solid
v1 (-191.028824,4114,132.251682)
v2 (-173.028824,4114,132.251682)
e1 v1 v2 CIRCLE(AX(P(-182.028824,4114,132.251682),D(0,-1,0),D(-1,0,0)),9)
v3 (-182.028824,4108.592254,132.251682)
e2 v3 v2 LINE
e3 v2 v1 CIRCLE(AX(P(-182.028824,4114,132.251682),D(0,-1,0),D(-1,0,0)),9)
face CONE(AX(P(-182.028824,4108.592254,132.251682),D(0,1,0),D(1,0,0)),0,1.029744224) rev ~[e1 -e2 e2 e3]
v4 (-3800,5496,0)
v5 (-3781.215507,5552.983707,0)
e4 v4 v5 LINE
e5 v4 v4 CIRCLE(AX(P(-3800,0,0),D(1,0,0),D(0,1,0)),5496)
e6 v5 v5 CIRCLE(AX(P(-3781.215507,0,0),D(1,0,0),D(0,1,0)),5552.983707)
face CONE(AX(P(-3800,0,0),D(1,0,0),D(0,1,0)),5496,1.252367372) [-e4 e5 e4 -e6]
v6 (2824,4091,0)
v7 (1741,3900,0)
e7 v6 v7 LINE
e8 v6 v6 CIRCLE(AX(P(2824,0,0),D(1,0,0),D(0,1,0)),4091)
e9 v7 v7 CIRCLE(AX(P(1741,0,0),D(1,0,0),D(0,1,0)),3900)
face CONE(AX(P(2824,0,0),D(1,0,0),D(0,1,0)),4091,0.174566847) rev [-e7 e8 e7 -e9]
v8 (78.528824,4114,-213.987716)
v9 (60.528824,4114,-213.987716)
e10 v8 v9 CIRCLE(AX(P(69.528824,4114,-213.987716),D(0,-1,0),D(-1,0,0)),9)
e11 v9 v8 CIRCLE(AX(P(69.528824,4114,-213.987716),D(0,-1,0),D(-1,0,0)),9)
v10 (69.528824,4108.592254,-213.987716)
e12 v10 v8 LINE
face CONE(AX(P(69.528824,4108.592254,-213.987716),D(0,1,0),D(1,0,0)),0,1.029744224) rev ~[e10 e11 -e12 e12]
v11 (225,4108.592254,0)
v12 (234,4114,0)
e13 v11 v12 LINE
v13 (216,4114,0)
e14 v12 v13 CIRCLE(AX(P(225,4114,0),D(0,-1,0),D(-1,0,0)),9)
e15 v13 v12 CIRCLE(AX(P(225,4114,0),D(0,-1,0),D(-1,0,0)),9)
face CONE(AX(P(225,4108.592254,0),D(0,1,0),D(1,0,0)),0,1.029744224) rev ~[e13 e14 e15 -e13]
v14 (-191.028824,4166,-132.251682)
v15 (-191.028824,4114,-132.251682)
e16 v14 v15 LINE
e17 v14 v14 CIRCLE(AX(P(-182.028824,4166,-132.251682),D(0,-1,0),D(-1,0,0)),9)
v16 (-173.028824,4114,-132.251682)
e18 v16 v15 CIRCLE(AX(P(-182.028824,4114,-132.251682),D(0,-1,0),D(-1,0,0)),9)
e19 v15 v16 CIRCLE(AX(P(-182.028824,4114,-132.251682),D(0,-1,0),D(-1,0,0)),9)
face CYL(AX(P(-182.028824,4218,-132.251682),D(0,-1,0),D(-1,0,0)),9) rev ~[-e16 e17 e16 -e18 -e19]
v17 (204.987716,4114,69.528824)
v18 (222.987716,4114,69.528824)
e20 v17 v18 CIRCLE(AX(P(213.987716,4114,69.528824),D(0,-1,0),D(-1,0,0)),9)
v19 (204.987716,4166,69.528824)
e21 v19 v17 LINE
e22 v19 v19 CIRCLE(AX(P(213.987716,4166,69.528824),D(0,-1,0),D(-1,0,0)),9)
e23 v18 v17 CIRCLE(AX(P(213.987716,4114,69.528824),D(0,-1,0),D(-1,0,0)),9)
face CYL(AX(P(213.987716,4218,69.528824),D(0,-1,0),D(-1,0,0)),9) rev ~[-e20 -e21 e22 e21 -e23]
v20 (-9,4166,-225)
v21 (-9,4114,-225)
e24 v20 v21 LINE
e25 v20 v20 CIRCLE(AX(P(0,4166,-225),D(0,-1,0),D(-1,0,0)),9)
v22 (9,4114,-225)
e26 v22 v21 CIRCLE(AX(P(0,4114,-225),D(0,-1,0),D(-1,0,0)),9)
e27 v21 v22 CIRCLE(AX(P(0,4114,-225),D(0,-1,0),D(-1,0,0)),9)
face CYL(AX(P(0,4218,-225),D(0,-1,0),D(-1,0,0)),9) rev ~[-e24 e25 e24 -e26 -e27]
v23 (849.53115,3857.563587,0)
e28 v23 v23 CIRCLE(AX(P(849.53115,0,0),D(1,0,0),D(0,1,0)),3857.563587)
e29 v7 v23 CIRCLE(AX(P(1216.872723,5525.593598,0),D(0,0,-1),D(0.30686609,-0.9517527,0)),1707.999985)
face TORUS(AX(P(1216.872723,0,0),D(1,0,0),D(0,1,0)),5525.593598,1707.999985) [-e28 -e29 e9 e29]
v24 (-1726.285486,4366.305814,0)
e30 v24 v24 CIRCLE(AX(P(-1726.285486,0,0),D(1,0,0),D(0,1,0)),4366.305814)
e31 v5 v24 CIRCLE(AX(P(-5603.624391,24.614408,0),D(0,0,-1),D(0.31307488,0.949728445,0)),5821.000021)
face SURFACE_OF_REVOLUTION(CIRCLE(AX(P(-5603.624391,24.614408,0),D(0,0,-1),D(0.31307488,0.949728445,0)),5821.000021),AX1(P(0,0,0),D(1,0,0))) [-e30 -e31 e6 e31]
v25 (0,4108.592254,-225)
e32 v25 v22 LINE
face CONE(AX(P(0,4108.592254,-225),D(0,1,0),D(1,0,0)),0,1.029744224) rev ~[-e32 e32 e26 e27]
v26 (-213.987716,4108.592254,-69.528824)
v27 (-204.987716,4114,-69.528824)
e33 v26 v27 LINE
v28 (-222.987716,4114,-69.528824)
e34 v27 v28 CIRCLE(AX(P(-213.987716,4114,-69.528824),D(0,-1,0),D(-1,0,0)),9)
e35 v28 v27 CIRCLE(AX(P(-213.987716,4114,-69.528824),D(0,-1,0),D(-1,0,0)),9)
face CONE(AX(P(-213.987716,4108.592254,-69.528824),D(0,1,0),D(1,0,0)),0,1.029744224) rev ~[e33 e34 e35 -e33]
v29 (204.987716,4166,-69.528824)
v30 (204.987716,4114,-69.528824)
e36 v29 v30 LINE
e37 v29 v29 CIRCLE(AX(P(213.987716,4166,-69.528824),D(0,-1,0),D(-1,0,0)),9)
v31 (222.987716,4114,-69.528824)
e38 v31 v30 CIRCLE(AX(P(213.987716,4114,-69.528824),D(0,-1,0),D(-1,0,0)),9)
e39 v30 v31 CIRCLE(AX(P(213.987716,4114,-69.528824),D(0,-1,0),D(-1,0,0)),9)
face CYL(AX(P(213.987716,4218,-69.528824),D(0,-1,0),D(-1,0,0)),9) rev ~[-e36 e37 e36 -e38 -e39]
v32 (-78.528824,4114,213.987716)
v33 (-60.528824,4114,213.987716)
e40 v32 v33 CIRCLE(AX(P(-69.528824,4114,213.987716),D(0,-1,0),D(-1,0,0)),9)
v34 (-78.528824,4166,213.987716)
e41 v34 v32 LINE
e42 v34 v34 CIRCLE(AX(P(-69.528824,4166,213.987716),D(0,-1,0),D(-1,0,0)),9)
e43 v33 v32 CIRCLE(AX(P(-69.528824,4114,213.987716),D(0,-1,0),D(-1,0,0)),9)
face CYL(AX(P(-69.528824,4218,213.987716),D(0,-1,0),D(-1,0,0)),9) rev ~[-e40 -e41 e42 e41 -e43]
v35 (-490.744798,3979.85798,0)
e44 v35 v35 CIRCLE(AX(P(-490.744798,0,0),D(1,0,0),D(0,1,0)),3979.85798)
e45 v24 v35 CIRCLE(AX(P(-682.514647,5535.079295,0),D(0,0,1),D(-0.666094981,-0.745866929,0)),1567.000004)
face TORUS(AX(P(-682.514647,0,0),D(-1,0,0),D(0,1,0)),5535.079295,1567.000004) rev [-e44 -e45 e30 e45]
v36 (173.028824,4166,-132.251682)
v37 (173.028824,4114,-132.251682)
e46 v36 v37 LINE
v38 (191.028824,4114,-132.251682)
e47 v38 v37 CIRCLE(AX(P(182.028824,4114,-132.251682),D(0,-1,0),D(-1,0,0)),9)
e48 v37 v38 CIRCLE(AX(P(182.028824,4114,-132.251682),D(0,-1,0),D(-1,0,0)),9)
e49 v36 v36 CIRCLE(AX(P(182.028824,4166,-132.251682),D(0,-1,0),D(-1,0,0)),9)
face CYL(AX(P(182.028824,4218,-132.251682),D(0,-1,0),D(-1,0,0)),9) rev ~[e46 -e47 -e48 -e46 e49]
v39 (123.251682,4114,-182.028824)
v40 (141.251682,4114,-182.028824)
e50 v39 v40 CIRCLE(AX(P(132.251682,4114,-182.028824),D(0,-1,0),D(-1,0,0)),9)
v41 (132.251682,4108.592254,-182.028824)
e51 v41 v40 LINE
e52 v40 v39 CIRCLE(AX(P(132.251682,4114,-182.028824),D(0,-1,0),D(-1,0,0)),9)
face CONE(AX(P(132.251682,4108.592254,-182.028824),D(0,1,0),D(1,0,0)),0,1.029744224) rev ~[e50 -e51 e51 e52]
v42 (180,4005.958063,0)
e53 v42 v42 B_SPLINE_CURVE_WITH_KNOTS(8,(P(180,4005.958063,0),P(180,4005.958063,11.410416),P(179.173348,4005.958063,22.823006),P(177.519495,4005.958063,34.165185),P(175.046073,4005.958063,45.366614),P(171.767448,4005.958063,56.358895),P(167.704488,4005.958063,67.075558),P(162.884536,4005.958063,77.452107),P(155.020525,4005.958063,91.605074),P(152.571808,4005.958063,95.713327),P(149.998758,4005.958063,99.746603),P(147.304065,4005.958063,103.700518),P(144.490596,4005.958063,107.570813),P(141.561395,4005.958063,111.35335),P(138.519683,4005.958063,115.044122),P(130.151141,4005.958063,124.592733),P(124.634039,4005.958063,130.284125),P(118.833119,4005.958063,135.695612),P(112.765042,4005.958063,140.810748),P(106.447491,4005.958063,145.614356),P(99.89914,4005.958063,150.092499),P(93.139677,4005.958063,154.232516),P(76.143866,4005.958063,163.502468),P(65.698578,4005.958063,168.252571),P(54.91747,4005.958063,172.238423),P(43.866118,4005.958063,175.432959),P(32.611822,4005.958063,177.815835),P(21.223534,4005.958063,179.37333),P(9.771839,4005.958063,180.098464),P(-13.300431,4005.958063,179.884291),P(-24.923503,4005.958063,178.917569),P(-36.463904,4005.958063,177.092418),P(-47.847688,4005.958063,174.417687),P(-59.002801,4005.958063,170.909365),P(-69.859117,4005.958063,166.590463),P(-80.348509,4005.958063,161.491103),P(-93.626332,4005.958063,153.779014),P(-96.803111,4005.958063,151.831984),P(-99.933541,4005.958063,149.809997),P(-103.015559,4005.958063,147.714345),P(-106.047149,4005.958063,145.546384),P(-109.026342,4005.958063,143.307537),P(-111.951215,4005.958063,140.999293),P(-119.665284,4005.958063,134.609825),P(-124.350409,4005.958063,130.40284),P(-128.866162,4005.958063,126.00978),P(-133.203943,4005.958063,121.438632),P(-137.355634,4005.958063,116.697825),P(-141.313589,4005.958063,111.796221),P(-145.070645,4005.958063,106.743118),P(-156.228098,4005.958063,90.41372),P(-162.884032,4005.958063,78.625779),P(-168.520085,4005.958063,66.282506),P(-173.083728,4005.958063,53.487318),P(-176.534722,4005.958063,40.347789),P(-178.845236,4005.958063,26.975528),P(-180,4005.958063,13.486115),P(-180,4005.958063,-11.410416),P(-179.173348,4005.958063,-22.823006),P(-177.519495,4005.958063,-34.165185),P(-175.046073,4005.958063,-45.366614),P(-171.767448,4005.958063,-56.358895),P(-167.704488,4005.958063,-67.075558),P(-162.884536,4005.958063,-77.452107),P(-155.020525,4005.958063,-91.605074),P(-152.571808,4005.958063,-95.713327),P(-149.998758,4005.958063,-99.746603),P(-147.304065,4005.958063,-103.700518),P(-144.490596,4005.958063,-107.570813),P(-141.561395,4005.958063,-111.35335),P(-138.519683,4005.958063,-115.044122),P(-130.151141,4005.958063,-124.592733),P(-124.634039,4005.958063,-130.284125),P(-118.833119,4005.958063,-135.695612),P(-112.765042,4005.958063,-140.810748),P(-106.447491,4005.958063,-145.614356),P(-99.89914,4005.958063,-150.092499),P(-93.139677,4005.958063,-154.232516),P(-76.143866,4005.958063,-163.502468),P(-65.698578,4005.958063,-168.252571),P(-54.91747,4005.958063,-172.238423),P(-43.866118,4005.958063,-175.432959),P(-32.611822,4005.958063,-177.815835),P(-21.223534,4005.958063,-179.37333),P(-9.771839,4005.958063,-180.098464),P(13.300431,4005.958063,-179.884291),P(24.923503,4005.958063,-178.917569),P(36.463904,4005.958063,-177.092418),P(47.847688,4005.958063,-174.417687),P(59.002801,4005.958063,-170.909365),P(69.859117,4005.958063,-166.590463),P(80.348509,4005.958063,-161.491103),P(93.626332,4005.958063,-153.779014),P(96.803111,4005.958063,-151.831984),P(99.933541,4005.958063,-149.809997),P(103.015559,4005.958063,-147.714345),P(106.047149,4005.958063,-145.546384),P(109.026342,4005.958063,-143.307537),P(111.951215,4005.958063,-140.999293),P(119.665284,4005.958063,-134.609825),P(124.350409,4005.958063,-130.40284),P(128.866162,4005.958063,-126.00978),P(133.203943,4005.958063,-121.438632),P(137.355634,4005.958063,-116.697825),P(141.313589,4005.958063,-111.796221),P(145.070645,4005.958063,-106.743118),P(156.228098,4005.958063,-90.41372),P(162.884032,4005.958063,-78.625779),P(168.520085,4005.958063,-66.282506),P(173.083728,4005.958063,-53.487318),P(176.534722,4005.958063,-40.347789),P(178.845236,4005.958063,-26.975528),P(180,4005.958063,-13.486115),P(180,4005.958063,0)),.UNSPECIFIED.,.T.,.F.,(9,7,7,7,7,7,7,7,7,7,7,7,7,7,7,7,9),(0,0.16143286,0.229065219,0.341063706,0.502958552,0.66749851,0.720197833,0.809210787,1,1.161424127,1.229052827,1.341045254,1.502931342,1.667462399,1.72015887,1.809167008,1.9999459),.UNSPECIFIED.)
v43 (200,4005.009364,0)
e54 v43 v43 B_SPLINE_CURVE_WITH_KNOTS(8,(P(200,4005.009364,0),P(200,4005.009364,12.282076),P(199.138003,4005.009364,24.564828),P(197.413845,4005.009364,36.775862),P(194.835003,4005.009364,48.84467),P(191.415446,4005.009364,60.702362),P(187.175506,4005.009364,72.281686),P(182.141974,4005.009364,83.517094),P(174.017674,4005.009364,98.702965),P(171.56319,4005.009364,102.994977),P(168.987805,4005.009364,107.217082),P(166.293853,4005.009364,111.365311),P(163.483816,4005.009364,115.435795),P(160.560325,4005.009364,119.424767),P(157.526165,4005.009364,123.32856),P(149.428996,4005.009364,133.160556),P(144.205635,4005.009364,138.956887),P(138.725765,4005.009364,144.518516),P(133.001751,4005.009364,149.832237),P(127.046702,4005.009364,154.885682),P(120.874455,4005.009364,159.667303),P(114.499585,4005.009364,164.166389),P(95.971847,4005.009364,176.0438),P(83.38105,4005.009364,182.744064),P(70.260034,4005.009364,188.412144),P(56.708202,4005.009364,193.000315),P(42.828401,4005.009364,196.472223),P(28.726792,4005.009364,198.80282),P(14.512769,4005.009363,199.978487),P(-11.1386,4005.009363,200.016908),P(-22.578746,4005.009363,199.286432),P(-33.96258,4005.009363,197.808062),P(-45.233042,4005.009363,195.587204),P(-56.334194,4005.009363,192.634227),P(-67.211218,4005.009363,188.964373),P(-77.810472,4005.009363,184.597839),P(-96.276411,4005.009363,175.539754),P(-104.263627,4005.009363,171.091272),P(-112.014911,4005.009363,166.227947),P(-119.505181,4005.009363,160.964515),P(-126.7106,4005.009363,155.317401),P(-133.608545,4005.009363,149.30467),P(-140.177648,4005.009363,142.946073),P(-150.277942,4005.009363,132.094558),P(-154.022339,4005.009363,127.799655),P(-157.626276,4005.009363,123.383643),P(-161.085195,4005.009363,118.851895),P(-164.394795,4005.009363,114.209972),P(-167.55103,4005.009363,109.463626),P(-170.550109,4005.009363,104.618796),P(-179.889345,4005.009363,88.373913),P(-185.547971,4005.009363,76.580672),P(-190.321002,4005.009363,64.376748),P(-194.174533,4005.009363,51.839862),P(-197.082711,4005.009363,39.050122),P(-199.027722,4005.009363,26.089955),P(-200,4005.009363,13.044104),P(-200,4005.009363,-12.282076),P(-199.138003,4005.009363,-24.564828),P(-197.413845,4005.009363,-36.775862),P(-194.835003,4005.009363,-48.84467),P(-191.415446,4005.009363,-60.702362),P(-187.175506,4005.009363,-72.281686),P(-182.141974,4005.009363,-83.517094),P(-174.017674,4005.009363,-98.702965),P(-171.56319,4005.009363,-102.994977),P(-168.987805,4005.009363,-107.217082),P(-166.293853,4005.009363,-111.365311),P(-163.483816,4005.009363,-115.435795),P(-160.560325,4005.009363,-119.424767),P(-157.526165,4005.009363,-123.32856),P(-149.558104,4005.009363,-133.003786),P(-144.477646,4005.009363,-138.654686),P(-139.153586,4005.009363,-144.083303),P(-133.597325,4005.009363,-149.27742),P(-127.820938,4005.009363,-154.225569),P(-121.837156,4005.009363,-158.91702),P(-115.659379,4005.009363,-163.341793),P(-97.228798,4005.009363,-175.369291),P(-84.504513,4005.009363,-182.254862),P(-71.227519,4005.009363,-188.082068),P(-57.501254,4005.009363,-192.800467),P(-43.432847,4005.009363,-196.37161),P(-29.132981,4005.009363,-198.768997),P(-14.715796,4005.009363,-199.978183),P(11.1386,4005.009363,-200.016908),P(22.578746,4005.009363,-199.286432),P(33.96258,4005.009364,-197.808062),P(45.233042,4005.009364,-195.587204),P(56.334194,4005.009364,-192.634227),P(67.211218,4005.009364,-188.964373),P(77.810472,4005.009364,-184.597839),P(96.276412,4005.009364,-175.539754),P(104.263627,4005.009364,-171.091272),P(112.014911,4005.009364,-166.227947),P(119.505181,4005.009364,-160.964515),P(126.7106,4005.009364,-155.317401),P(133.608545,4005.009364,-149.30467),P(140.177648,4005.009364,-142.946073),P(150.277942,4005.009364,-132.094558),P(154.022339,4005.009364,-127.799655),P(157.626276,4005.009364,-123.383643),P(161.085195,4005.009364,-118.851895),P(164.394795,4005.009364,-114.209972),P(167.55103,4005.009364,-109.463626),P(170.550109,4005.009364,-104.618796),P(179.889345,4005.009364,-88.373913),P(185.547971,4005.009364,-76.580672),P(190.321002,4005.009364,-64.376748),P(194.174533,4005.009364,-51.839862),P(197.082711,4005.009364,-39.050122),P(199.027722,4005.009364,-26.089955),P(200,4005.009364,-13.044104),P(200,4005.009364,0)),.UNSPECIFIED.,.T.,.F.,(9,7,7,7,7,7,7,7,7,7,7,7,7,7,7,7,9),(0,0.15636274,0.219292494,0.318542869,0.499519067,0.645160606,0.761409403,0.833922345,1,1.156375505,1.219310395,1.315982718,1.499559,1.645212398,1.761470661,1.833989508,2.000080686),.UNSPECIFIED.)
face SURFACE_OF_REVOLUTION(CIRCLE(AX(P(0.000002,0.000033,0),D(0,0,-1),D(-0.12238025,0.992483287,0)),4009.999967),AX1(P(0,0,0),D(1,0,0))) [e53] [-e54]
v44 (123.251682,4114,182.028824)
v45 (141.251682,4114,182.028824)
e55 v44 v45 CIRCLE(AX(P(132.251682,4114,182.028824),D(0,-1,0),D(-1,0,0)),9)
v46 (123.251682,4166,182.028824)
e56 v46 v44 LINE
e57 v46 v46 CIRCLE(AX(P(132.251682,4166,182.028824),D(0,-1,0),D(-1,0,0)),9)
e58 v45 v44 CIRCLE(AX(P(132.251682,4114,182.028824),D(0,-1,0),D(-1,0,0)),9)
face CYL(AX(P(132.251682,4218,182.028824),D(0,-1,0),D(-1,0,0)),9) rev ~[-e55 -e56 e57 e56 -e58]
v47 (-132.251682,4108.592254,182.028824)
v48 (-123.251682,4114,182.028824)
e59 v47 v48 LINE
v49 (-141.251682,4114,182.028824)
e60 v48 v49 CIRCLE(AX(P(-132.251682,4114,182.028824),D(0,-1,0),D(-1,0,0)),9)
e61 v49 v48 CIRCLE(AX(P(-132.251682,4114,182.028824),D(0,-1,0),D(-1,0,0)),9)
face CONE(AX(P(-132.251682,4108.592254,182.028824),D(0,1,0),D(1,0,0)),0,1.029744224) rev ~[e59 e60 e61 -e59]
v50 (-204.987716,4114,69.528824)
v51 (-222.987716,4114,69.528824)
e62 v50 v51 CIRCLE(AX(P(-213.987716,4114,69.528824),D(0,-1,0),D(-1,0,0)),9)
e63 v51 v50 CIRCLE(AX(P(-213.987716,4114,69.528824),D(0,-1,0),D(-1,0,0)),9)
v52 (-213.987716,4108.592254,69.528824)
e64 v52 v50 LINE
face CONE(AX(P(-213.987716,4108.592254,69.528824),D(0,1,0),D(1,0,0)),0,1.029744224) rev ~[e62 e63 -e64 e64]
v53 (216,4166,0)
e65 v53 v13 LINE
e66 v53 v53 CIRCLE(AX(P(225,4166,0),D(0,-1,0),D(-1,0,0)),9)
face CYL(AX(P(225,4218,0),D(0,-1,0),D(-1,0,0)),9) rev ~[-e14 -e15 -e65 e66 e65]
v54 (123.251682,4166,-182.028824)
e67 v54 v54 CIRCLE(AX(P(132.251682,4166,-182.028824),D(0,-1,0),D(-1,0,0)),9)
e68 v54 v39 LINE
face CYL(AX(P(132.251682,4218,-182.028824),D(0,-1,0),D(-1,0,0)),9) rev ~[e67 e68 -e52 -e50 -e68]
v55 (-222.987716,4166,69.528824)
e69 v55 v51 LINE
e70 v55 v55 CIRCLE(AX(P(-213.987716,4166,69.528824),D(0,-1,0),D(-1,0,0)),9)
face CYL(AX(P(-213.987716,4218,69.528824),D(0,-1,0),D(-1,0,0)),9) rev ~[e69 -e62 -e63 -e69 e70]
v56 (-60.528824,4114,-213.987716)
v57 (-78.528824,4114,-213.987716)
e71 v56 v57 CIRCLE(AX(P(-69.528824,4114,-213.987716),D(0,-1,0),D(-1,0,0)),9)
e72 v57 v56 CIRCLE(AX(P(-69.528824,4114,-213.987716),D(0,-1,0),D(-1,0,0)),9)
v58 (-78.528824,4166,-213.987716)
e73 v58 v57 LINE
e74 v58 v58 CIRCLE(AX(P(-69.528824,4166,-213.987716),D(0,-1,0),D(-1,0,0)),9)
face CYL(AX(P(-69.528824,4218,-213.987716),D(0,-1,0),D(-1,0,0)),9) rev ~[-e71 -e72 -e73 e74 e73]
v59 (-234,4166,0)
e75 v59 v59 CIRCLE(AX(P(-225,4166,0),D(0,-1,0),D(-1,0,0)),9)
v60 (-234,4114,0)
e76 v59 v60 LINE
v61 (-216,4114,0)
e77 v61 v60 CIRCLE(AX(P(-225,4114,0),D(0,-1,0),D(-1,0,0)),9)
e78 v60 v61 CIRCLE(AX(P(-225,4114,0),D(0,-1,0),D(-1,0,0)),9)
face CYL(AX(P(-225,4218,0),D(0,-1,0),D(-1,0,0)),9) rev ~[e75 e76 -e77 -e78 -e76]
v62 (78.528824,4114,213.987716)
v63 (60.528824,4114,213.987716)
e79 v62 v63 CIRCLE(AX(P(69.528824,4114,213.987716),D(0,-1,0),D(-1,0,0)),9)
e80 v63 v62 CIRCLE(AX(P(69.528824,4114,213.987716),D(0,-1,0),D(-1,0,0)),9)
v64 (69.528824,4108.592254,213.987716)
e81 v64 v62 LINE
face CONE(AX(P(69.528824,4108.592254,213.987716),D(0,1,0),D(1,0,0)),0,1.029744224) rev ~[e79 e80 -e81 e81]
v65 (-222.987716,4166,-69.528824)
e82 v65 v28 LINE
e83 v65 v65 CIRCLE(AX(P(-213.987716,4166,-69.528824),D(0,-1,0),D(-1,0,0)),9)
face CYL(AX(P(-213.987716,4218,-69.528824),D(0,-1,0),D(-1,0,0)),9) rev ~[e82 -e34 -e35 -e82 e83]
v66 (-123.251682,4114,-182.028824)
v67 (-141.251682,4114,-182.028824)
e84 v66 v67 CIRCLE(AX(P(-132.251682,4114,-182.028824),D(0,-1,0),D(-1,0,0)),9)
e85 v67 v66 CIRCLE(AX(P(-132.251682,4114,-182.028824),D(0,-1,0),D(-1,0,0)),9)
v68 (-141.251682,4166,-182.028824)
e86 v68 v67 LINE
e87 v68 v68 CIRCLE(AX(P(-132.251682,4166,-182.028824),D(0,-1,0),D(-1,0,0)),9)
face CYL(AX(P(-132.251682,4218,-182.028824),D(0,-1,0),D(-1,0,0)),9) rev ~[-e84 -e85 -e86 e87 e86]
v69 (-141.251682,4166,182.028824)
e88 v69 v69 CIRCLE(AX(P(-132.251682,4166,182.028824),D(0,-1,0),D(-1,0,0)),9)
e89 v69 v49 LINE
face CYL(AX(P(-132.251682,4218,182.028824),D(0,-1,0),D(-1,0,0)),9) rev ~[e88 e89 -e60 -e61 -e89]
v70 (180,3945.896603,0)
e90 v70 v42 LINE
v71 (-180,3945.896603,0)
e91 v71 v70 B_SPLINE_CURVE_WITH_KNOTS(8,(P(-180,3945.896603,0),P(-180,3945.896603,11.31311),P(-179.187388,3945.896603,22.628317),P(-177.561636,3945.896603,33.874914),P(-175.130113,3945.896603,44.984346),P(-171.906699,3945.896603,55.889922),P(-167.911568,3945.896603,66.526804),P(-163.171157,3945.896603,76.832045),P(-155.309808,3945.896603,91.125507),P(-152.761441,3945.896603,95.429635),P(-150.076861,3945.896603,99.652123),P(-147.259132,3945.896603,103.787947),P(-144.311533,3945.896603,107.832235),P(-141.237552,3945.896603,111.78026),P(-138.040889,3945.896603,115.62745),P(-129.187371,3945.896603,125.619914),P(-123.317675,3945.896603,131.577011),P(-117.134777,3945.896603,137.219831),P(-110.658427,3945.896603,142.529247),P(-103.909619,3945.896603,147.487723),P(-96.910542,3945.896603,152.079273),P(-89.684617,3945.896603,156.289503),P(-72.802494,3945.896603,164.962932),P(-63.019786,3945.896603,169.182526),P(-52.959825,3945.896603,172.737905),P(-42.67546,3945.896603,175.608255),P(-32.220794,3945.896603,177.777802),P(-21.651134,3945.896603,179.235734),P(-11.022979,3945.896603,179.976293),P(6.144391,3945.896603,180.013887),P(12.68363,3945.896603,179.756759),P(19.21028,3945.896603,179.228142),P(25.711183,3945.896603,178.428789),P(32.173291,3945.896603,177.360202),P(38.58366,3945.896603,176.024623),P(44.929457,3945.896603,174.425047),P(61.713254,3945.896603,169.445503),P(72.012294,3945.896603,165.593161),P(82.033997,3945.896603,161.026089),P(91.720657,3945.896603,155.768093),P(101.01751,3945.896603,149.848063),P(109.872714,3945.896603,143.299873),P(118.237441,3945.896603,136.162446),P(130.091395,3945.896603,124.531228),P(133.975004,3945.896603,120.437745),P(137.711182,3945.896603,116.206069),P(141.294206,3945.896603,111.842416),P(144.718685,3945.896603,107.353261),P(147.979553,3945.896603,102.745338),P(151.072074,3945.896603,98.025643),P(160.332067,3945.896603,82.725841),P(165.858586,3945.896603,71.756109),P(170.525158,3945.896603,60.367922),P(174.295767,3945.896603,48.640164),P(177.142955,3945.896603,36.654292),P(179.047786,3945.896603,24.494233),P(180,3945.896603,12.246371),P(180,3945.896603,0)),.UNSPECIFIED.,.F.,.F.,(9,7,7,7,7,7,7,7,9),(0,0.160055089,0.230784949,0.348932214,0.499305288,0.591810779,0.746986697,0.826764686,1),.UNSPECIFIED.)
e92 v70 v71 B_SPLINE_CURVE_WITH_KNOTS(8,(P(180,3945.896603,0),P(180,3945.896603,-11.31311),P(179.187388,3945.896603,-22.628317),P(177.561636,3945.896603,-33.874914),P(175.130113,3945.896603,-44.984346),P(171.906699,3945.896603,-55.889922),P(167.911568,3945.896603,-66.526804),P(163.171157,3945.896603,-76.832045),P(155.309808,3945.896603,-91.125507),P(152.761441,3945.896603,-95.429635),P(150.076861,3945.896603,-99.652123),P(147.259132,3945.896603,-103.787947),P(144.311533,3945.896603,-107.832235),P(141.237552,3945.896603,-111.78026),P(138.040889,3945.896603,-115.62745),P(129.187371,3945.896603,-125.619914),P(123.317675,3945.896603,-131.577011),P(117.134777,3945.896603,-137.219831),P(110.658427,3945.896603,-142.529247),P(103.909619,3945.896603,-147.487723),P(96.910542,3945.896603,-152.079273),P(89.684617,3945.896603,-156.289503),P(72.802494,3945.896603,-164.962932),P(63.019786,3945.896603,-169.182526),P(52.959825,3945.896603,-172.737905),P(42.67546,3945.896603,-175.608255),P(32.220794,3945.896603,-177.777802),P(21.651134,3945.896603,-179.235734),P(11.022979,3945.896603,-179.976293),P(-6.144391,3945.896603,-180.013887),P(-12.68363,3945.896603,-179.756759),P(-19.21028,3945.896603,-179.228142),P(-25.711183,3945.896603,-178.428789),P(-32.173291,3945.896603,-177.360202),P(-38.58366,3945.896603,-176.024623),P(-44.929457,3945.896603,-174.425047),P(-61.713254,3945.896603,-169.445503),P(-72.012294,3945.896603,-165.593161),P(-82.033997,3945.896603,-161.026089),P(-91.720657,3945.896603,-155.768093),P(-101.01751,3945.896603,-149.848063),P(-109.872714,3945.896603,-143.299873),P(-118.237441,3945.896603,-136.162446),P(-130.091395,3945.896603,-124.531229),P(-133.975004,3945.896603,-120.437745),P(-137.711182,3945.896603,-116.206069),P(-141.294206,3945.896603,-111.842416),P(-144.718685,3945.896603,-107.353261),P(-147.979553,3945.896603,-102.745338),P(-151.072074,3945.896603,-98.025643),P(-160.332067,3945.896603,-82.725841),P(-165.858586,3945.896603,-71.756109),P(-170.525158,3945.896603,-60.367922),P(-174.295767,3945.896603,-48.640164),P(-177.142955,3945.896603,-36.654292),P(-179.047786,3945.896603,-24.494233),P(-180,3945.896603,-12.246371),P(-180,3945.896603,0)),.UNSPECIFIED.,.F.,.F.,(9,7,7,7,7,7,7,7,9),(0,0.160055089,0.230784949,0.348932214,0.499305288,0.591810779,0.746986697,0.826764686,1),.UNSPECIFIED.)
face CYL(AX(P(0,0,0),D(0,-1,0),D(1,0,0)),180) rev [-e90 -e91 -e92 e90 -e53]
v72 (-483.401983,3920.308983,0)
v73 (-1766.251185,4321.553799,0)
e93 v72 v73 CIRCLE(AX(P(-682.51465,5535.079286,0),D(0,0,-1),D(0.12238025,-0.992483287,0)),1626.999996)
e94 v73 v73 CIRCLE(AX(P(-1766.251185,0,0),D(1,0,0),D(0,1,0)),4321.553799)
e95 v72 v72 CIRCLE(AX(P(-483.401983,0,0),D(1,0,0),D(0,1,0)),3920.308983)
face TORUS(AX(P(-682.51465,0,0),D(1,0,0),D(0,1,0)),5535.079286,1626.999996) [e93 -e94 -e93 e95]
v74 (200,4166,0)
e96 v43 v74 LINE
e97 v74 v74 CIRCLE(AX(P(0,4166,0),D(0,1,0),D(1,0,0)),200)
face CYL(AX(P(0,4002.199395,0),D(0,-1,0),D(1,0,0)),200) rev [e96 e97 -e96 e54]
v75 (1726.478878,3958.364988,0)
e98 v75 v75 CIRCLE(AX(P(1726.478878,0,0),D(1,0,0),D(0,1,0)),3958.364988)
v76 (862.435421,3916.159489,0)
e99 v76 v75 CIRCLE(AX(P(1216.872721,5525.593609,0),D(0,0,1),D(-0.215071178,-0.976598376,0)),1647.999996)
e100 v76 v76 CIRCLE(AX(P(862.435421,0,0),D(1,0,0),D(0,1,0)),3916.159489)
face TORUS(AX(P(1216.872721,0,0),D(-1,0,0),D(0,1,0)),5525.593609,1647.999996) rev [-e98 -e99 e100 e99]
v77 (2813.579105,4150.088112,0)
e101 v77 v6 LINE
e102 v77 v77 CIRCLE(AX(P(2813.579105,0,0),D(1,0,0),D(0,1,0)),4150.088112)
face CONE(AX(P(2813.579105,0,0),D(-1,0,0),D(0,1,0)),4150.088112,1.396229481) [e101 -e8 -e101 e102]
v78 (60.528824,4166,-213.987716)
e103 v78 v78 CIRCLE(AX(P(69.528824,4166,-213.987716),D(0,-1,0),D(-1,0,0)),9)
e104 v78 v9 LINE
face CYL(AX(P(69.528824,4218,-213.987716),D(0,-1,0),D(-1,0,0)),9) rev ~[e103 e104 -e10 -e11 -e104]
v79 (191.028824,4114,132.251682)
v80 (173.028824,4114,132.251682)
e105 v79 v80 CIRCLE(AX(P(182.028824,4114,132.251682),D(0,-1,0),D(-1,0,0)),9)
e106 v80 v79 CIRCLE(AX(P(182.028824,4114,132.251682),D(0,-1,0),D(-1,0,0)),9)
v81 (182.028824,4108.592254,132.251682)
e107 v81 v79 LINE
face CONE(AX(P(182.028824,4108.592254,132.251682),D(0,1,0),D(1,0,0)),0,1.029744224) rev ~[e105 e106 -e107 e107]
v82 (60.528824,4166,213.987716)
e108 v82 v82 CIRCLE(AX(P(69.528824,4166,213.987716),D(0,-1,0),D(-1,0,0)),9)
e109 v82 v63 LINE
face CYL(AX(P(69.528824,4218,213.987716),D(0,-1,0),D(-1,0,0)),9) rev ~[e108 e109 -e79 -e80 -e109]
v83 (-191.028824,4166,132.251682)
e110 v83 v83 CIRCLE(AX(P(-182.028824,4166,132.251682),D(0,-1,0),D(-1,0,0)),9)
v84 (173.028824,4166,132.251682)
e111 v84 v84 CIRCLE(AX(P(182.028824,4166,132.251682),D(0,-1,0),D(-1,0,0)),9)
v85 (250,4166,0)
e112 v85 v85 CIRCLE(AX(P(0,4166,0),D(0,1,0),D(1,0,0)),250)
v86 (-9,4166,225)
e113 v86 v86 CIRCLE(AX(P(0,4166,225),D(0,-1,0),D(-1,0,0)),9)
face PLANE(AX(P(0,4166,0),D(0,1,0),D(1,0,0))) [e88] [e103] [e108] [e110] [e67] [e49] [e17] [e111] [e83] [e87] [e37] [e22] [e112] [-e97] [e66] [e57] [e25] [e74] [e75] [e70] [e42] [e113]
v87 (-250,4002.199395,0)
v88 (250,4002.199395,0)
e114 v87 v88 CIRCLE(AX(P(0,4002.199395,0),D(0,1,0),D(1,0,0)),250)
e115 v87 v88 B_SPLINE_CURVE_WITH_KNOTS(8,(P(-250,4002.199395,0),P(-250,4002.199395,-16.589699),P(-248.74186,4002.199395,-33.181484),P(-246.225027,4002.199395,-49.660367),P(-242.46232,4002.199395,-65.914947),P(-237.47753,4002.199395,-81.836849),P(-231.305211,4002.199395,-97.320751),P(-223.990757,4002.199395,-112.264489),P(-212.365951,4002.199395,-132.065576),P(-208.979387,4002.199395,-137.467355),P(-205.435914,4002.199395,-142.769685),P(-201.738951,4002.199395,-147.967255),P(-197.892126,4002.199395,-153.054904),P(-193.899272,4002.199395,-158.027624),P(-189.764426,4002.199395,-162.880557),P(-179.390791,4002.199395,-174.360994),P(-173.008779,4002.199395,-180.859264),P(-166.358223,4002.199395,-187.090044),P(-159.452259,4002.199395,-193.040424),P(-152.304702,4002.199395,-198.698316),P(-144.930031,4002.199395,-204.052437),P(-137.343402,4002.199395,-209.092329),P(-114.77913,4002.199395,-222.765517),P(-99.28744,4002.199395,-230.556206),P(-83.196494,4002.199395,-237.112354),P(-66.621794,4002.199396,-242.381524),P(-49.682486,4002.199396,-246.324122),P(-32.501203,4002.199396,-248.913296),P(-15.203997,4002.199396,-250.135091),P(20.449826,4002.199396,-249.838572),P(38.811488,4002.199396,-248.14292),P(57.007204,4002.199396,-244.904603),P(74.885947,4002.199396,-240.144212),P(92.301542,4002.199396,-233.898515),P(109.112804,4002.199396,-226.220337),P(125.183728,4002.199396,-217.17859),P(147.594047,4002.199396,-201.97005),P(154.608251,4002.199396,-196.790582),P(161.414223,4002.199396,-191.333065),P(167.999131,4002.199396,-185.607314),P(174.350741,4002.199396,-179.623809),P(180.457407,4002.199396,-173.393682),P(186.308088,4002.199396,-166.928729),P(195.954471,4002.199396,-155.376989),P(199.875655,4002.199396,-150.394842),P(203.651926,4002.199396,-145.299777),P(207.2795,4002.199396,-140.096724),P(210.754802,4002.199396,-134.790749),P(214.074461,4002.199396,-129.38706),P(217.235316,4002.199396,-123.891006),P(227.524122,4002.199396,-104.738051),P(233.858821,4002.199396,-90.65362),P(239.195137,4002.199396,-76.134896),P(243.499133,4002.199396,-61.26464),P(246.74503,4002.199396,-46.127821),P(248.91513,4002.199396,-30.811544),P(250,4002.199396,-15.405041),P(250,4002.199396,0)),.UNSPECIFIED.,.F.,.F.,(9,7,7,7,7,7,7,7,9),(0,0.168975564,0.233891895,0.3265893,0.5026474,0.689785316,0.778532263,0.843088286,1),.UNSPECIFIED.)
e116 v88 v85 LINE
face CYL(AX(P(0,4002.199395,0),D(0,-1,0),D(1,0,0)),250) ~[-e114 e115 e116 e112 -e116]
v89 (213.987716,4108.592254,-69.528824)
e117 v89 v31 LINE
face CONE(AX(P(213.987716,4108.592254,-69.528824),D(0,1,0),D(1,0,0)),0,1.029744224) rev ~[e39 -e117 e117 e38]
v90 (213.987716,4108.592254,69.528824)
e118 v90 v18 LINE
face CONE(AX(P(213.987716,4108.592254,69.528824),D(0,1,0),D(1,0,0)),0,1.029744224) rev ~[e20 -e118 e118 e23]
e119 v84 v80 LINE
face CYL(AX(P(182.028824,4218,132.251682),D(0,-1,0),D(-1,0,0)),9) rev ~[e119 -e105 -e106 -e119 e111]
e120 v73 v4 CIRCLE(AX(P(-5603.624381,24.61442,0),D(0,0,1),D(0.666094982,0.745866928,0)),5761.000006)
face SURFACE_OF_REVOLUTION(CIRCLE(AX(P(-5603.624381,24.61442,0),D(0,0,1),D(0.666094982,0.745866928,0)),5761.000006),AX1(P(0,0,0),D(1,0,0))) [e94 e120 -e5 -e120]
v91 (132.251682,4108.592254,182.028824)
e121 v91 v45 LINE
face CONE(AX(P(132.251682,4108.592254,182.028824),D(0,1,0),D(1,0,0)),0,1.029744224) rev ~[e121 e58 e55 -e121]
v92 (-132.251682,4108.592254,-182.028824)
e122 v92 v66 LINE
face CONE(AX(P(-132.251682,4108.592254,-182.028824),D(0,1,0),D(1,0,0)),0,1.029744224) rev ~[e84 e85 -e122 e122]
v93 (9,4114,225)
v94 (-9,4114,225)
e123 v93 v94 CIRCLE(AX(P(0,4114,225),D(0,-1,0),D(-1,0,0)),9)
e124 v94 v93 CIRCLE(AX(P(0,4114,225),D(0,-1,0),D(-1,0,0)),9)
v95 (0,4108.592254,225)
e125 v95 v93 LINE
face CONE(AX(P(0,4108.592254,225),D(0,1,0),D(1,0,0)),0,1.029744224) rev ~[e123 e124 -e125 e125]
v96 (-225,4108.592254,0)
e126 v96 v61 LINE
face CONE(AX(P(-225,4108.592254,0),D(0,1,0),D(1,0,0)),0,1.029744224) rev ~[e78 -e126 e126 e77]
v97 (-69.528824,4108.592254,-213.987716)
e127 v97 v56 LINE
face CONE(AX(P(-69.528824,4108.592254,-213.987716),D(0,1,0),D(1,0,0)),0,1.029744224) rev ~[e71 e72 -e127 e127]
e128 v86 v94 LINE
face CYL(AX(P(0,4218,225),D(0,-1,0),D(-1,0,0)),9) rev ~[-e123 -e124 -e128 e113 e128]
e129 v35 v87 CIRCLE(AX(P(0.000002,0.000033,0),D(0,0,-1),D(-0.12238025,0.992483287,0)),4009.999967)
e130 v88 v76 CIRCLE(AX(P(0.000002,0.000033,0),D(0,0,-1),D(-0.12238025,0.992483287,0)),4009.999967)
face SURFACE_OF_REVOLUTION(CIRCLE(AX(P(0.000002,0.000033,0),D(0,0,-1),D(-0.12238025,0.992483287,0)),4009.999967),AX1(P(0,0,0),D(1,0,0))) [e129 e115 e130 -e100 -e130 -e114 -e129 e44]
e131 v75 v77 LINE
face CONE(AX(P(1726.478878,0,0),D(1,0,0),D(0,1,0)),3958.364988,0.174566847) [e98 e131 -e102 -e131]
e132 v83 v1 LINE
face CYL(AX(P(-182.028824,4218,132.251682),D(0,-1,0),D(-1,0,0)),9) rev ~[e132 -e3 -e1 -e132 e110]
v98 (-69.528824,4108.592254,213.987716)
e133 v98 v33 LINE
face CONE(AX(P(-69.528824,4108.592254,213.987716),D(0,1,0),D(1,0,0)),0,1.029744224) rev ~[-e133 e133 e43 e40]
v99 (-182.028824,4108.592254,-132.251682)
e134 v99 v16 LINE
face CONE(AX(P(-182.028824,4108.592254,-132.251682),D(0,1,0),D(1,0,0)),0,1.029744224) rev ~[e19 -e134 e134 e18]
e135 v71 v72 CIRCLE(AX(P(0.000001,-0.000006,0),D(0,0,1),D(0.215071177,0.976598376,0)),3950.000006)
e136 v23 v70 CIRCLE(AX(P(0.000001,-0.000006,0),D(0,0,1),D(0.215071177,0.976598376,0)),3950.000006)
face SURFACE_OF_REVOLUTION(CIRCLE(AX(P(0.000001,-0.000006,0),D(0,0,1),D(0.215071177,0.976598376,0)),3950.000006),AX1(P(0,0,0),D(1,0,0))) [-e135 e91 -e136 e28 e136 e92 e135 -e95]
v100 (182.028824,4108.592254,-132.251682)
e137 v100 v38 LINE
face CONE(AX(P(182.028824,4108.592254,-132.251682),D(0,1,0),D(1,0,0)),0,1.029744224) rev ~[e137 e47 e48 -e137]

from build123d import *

# Parameters (mm, degrees)
ESBO_O2_R                                     = 180
CORTE_EXTRUS_O1_DEPTH                         = 5553.983707
RESSALTO_EXTRUS_O1_START                      = 4002.199395
ESBO_O3_R                                     = 250
ESBO_O3_R_2                                   = 200
RESSALTO_EXTRUS_O1_DEPTH                      = 163.800605
BROCA_DE_ROSQUEAR_PARA_TARRAXA_DE_M20X2_D     = 18
BROCA_DE_ROSQUEAR_PARA_TARRAXA_DE_M20X2_DEPTH = 52
BROCA_DE_ROSQUEAR_PARA_TARRAXA_DE_M20X2_TIP   = 5.407746


with BuildPart() as part:
    # Esboço1 → Revolução1 (revolve)
    with BuildSketch(Plane.XY):
        with BuildLine():
            Line((2824, 4091), (1741, 3900))
            ThreePointArc((1741, 3900), (1298.08634, 3819.525517), (849.53115, 3857.563587))
            ThreePointArc((849.53115, 3857.563587), (185.733379, 3945.630889), (-483.401983, 3920.308983))
            ThreePointArc((-483.401983, 3920.308983), (-1168.198907, 3982.262559), (-1766.251185, 4321.553799))
            ThreePointArc((-1766.251185, 4321.553799), (-2722.644619, 5013.509757), (-3800, 5496))
            Line((-3800, 5496), (-3781.215507, 5552.983707))
            ThreePointArc((-3781.215507, 5552.983707), (-2692.639623, 5065.468396), (-1726.285486, 4366.305814))
            ThreePointArc((-1726.285486, 4366.305814), (-1150.287994, 4039.526852), (-490.744798, 3979.85798))
            ThreePointArc((-490.744798, 3979.85798), (188.554645, 4005.564523), (862.435421, 3916.159489))
            ThreePointArc((862.435421, 3916.159489), (1297.27589, 3879.55615), (1726.478878, 3958.364988))
            Line((1726.478878, 3958.364988), (2813.579105, 4150.088112))
            Line((2813.579105, 4150.088112), (2824, 4091))
        make_face()
    revolve(axis=Axis((0, 0, 0), (1, 0, 0)))

    # Esboço2 → Corte-extrusão1 (cut, through all)
    with BuildSketch(Plane(origin=(0, 0, 0), x_dir=(1, 0, 0), z_dir=(0, 1, 0))):
        Circle(ESBO_O2_R)
    extrude(amount=CORTE_EXTRUS_O1_DEPTH, mode=Mode.SUBTRACT)

    # Esboço3 → Ressalto-extrusão1 (add)
    with BuildSketch(Plane(origin=(0, 0, 0), x_dir=(1, 0, 0), z_dir=(0, 1, 0)).offset(RESSALTO_EXTRUS_O1_START)):
        Circle(ESBO_O3_R)
        Circle(ESBO_O3_R_2, mode=Mode.SUBTRACT)
    extrude(amount=RESSALTO_EXTRUS_O1_DEPTH)

    # Broca de rosquear para tarraxa de M20x2.01
    with Locations(Plane(origin=(0, 4166, 0), x_dir=(1, 0, 0), z_dir=(0, 1, 0))):
        with Locations((0, 225), (69.528824, 213.987716), (132.251682, 182.028824), (182.028824, 132.251682), (213.987716, 69.528824), (225, 0), (213.987716, -69.528824), (182.028824, -132.251682), (132.251682, -182.028824), (69.528824, -213.987716), (0, -225), (-69.528824, -213.987716), (-132.251682, -182.028824), (-182.028824, -132.251682), (-213.987716, -69.528824), (-225, 0), (-213.987716, 69.528824), (-182.028824, 132.251682), (-132.251682, 182.028824), (-69.528824, 213.987716), (0, 0)):
            Hole(BROCA_DE_ROSQUEAR_PARA_TARRAXA_DE_M20X2_D / 2, depth=BROCA_DE_ROSQUEAR_PARA_TARRAXA_DE_M20X2_DEPTH)
            with Locations((0, 0, -(BROCA_DE_ROSQUEAR_PARA_TARRAXA_DE_M20X2_DEPTH + BROCA_DE_ROSQUEAR_PARA_TARRAXA_DE_M20X2_TIP / 2))):  # 118° drill point
                Cone(0, BROCA_DE_ROSQUEAR_PARA_TARRAXA_DE_M20X2_D / 2, BROCA_DE_ROSQUEAR_PARA_TARRAXA_DE_M20X2_TIP, mode=Mode.SUBTRACT)


solid = part.part
